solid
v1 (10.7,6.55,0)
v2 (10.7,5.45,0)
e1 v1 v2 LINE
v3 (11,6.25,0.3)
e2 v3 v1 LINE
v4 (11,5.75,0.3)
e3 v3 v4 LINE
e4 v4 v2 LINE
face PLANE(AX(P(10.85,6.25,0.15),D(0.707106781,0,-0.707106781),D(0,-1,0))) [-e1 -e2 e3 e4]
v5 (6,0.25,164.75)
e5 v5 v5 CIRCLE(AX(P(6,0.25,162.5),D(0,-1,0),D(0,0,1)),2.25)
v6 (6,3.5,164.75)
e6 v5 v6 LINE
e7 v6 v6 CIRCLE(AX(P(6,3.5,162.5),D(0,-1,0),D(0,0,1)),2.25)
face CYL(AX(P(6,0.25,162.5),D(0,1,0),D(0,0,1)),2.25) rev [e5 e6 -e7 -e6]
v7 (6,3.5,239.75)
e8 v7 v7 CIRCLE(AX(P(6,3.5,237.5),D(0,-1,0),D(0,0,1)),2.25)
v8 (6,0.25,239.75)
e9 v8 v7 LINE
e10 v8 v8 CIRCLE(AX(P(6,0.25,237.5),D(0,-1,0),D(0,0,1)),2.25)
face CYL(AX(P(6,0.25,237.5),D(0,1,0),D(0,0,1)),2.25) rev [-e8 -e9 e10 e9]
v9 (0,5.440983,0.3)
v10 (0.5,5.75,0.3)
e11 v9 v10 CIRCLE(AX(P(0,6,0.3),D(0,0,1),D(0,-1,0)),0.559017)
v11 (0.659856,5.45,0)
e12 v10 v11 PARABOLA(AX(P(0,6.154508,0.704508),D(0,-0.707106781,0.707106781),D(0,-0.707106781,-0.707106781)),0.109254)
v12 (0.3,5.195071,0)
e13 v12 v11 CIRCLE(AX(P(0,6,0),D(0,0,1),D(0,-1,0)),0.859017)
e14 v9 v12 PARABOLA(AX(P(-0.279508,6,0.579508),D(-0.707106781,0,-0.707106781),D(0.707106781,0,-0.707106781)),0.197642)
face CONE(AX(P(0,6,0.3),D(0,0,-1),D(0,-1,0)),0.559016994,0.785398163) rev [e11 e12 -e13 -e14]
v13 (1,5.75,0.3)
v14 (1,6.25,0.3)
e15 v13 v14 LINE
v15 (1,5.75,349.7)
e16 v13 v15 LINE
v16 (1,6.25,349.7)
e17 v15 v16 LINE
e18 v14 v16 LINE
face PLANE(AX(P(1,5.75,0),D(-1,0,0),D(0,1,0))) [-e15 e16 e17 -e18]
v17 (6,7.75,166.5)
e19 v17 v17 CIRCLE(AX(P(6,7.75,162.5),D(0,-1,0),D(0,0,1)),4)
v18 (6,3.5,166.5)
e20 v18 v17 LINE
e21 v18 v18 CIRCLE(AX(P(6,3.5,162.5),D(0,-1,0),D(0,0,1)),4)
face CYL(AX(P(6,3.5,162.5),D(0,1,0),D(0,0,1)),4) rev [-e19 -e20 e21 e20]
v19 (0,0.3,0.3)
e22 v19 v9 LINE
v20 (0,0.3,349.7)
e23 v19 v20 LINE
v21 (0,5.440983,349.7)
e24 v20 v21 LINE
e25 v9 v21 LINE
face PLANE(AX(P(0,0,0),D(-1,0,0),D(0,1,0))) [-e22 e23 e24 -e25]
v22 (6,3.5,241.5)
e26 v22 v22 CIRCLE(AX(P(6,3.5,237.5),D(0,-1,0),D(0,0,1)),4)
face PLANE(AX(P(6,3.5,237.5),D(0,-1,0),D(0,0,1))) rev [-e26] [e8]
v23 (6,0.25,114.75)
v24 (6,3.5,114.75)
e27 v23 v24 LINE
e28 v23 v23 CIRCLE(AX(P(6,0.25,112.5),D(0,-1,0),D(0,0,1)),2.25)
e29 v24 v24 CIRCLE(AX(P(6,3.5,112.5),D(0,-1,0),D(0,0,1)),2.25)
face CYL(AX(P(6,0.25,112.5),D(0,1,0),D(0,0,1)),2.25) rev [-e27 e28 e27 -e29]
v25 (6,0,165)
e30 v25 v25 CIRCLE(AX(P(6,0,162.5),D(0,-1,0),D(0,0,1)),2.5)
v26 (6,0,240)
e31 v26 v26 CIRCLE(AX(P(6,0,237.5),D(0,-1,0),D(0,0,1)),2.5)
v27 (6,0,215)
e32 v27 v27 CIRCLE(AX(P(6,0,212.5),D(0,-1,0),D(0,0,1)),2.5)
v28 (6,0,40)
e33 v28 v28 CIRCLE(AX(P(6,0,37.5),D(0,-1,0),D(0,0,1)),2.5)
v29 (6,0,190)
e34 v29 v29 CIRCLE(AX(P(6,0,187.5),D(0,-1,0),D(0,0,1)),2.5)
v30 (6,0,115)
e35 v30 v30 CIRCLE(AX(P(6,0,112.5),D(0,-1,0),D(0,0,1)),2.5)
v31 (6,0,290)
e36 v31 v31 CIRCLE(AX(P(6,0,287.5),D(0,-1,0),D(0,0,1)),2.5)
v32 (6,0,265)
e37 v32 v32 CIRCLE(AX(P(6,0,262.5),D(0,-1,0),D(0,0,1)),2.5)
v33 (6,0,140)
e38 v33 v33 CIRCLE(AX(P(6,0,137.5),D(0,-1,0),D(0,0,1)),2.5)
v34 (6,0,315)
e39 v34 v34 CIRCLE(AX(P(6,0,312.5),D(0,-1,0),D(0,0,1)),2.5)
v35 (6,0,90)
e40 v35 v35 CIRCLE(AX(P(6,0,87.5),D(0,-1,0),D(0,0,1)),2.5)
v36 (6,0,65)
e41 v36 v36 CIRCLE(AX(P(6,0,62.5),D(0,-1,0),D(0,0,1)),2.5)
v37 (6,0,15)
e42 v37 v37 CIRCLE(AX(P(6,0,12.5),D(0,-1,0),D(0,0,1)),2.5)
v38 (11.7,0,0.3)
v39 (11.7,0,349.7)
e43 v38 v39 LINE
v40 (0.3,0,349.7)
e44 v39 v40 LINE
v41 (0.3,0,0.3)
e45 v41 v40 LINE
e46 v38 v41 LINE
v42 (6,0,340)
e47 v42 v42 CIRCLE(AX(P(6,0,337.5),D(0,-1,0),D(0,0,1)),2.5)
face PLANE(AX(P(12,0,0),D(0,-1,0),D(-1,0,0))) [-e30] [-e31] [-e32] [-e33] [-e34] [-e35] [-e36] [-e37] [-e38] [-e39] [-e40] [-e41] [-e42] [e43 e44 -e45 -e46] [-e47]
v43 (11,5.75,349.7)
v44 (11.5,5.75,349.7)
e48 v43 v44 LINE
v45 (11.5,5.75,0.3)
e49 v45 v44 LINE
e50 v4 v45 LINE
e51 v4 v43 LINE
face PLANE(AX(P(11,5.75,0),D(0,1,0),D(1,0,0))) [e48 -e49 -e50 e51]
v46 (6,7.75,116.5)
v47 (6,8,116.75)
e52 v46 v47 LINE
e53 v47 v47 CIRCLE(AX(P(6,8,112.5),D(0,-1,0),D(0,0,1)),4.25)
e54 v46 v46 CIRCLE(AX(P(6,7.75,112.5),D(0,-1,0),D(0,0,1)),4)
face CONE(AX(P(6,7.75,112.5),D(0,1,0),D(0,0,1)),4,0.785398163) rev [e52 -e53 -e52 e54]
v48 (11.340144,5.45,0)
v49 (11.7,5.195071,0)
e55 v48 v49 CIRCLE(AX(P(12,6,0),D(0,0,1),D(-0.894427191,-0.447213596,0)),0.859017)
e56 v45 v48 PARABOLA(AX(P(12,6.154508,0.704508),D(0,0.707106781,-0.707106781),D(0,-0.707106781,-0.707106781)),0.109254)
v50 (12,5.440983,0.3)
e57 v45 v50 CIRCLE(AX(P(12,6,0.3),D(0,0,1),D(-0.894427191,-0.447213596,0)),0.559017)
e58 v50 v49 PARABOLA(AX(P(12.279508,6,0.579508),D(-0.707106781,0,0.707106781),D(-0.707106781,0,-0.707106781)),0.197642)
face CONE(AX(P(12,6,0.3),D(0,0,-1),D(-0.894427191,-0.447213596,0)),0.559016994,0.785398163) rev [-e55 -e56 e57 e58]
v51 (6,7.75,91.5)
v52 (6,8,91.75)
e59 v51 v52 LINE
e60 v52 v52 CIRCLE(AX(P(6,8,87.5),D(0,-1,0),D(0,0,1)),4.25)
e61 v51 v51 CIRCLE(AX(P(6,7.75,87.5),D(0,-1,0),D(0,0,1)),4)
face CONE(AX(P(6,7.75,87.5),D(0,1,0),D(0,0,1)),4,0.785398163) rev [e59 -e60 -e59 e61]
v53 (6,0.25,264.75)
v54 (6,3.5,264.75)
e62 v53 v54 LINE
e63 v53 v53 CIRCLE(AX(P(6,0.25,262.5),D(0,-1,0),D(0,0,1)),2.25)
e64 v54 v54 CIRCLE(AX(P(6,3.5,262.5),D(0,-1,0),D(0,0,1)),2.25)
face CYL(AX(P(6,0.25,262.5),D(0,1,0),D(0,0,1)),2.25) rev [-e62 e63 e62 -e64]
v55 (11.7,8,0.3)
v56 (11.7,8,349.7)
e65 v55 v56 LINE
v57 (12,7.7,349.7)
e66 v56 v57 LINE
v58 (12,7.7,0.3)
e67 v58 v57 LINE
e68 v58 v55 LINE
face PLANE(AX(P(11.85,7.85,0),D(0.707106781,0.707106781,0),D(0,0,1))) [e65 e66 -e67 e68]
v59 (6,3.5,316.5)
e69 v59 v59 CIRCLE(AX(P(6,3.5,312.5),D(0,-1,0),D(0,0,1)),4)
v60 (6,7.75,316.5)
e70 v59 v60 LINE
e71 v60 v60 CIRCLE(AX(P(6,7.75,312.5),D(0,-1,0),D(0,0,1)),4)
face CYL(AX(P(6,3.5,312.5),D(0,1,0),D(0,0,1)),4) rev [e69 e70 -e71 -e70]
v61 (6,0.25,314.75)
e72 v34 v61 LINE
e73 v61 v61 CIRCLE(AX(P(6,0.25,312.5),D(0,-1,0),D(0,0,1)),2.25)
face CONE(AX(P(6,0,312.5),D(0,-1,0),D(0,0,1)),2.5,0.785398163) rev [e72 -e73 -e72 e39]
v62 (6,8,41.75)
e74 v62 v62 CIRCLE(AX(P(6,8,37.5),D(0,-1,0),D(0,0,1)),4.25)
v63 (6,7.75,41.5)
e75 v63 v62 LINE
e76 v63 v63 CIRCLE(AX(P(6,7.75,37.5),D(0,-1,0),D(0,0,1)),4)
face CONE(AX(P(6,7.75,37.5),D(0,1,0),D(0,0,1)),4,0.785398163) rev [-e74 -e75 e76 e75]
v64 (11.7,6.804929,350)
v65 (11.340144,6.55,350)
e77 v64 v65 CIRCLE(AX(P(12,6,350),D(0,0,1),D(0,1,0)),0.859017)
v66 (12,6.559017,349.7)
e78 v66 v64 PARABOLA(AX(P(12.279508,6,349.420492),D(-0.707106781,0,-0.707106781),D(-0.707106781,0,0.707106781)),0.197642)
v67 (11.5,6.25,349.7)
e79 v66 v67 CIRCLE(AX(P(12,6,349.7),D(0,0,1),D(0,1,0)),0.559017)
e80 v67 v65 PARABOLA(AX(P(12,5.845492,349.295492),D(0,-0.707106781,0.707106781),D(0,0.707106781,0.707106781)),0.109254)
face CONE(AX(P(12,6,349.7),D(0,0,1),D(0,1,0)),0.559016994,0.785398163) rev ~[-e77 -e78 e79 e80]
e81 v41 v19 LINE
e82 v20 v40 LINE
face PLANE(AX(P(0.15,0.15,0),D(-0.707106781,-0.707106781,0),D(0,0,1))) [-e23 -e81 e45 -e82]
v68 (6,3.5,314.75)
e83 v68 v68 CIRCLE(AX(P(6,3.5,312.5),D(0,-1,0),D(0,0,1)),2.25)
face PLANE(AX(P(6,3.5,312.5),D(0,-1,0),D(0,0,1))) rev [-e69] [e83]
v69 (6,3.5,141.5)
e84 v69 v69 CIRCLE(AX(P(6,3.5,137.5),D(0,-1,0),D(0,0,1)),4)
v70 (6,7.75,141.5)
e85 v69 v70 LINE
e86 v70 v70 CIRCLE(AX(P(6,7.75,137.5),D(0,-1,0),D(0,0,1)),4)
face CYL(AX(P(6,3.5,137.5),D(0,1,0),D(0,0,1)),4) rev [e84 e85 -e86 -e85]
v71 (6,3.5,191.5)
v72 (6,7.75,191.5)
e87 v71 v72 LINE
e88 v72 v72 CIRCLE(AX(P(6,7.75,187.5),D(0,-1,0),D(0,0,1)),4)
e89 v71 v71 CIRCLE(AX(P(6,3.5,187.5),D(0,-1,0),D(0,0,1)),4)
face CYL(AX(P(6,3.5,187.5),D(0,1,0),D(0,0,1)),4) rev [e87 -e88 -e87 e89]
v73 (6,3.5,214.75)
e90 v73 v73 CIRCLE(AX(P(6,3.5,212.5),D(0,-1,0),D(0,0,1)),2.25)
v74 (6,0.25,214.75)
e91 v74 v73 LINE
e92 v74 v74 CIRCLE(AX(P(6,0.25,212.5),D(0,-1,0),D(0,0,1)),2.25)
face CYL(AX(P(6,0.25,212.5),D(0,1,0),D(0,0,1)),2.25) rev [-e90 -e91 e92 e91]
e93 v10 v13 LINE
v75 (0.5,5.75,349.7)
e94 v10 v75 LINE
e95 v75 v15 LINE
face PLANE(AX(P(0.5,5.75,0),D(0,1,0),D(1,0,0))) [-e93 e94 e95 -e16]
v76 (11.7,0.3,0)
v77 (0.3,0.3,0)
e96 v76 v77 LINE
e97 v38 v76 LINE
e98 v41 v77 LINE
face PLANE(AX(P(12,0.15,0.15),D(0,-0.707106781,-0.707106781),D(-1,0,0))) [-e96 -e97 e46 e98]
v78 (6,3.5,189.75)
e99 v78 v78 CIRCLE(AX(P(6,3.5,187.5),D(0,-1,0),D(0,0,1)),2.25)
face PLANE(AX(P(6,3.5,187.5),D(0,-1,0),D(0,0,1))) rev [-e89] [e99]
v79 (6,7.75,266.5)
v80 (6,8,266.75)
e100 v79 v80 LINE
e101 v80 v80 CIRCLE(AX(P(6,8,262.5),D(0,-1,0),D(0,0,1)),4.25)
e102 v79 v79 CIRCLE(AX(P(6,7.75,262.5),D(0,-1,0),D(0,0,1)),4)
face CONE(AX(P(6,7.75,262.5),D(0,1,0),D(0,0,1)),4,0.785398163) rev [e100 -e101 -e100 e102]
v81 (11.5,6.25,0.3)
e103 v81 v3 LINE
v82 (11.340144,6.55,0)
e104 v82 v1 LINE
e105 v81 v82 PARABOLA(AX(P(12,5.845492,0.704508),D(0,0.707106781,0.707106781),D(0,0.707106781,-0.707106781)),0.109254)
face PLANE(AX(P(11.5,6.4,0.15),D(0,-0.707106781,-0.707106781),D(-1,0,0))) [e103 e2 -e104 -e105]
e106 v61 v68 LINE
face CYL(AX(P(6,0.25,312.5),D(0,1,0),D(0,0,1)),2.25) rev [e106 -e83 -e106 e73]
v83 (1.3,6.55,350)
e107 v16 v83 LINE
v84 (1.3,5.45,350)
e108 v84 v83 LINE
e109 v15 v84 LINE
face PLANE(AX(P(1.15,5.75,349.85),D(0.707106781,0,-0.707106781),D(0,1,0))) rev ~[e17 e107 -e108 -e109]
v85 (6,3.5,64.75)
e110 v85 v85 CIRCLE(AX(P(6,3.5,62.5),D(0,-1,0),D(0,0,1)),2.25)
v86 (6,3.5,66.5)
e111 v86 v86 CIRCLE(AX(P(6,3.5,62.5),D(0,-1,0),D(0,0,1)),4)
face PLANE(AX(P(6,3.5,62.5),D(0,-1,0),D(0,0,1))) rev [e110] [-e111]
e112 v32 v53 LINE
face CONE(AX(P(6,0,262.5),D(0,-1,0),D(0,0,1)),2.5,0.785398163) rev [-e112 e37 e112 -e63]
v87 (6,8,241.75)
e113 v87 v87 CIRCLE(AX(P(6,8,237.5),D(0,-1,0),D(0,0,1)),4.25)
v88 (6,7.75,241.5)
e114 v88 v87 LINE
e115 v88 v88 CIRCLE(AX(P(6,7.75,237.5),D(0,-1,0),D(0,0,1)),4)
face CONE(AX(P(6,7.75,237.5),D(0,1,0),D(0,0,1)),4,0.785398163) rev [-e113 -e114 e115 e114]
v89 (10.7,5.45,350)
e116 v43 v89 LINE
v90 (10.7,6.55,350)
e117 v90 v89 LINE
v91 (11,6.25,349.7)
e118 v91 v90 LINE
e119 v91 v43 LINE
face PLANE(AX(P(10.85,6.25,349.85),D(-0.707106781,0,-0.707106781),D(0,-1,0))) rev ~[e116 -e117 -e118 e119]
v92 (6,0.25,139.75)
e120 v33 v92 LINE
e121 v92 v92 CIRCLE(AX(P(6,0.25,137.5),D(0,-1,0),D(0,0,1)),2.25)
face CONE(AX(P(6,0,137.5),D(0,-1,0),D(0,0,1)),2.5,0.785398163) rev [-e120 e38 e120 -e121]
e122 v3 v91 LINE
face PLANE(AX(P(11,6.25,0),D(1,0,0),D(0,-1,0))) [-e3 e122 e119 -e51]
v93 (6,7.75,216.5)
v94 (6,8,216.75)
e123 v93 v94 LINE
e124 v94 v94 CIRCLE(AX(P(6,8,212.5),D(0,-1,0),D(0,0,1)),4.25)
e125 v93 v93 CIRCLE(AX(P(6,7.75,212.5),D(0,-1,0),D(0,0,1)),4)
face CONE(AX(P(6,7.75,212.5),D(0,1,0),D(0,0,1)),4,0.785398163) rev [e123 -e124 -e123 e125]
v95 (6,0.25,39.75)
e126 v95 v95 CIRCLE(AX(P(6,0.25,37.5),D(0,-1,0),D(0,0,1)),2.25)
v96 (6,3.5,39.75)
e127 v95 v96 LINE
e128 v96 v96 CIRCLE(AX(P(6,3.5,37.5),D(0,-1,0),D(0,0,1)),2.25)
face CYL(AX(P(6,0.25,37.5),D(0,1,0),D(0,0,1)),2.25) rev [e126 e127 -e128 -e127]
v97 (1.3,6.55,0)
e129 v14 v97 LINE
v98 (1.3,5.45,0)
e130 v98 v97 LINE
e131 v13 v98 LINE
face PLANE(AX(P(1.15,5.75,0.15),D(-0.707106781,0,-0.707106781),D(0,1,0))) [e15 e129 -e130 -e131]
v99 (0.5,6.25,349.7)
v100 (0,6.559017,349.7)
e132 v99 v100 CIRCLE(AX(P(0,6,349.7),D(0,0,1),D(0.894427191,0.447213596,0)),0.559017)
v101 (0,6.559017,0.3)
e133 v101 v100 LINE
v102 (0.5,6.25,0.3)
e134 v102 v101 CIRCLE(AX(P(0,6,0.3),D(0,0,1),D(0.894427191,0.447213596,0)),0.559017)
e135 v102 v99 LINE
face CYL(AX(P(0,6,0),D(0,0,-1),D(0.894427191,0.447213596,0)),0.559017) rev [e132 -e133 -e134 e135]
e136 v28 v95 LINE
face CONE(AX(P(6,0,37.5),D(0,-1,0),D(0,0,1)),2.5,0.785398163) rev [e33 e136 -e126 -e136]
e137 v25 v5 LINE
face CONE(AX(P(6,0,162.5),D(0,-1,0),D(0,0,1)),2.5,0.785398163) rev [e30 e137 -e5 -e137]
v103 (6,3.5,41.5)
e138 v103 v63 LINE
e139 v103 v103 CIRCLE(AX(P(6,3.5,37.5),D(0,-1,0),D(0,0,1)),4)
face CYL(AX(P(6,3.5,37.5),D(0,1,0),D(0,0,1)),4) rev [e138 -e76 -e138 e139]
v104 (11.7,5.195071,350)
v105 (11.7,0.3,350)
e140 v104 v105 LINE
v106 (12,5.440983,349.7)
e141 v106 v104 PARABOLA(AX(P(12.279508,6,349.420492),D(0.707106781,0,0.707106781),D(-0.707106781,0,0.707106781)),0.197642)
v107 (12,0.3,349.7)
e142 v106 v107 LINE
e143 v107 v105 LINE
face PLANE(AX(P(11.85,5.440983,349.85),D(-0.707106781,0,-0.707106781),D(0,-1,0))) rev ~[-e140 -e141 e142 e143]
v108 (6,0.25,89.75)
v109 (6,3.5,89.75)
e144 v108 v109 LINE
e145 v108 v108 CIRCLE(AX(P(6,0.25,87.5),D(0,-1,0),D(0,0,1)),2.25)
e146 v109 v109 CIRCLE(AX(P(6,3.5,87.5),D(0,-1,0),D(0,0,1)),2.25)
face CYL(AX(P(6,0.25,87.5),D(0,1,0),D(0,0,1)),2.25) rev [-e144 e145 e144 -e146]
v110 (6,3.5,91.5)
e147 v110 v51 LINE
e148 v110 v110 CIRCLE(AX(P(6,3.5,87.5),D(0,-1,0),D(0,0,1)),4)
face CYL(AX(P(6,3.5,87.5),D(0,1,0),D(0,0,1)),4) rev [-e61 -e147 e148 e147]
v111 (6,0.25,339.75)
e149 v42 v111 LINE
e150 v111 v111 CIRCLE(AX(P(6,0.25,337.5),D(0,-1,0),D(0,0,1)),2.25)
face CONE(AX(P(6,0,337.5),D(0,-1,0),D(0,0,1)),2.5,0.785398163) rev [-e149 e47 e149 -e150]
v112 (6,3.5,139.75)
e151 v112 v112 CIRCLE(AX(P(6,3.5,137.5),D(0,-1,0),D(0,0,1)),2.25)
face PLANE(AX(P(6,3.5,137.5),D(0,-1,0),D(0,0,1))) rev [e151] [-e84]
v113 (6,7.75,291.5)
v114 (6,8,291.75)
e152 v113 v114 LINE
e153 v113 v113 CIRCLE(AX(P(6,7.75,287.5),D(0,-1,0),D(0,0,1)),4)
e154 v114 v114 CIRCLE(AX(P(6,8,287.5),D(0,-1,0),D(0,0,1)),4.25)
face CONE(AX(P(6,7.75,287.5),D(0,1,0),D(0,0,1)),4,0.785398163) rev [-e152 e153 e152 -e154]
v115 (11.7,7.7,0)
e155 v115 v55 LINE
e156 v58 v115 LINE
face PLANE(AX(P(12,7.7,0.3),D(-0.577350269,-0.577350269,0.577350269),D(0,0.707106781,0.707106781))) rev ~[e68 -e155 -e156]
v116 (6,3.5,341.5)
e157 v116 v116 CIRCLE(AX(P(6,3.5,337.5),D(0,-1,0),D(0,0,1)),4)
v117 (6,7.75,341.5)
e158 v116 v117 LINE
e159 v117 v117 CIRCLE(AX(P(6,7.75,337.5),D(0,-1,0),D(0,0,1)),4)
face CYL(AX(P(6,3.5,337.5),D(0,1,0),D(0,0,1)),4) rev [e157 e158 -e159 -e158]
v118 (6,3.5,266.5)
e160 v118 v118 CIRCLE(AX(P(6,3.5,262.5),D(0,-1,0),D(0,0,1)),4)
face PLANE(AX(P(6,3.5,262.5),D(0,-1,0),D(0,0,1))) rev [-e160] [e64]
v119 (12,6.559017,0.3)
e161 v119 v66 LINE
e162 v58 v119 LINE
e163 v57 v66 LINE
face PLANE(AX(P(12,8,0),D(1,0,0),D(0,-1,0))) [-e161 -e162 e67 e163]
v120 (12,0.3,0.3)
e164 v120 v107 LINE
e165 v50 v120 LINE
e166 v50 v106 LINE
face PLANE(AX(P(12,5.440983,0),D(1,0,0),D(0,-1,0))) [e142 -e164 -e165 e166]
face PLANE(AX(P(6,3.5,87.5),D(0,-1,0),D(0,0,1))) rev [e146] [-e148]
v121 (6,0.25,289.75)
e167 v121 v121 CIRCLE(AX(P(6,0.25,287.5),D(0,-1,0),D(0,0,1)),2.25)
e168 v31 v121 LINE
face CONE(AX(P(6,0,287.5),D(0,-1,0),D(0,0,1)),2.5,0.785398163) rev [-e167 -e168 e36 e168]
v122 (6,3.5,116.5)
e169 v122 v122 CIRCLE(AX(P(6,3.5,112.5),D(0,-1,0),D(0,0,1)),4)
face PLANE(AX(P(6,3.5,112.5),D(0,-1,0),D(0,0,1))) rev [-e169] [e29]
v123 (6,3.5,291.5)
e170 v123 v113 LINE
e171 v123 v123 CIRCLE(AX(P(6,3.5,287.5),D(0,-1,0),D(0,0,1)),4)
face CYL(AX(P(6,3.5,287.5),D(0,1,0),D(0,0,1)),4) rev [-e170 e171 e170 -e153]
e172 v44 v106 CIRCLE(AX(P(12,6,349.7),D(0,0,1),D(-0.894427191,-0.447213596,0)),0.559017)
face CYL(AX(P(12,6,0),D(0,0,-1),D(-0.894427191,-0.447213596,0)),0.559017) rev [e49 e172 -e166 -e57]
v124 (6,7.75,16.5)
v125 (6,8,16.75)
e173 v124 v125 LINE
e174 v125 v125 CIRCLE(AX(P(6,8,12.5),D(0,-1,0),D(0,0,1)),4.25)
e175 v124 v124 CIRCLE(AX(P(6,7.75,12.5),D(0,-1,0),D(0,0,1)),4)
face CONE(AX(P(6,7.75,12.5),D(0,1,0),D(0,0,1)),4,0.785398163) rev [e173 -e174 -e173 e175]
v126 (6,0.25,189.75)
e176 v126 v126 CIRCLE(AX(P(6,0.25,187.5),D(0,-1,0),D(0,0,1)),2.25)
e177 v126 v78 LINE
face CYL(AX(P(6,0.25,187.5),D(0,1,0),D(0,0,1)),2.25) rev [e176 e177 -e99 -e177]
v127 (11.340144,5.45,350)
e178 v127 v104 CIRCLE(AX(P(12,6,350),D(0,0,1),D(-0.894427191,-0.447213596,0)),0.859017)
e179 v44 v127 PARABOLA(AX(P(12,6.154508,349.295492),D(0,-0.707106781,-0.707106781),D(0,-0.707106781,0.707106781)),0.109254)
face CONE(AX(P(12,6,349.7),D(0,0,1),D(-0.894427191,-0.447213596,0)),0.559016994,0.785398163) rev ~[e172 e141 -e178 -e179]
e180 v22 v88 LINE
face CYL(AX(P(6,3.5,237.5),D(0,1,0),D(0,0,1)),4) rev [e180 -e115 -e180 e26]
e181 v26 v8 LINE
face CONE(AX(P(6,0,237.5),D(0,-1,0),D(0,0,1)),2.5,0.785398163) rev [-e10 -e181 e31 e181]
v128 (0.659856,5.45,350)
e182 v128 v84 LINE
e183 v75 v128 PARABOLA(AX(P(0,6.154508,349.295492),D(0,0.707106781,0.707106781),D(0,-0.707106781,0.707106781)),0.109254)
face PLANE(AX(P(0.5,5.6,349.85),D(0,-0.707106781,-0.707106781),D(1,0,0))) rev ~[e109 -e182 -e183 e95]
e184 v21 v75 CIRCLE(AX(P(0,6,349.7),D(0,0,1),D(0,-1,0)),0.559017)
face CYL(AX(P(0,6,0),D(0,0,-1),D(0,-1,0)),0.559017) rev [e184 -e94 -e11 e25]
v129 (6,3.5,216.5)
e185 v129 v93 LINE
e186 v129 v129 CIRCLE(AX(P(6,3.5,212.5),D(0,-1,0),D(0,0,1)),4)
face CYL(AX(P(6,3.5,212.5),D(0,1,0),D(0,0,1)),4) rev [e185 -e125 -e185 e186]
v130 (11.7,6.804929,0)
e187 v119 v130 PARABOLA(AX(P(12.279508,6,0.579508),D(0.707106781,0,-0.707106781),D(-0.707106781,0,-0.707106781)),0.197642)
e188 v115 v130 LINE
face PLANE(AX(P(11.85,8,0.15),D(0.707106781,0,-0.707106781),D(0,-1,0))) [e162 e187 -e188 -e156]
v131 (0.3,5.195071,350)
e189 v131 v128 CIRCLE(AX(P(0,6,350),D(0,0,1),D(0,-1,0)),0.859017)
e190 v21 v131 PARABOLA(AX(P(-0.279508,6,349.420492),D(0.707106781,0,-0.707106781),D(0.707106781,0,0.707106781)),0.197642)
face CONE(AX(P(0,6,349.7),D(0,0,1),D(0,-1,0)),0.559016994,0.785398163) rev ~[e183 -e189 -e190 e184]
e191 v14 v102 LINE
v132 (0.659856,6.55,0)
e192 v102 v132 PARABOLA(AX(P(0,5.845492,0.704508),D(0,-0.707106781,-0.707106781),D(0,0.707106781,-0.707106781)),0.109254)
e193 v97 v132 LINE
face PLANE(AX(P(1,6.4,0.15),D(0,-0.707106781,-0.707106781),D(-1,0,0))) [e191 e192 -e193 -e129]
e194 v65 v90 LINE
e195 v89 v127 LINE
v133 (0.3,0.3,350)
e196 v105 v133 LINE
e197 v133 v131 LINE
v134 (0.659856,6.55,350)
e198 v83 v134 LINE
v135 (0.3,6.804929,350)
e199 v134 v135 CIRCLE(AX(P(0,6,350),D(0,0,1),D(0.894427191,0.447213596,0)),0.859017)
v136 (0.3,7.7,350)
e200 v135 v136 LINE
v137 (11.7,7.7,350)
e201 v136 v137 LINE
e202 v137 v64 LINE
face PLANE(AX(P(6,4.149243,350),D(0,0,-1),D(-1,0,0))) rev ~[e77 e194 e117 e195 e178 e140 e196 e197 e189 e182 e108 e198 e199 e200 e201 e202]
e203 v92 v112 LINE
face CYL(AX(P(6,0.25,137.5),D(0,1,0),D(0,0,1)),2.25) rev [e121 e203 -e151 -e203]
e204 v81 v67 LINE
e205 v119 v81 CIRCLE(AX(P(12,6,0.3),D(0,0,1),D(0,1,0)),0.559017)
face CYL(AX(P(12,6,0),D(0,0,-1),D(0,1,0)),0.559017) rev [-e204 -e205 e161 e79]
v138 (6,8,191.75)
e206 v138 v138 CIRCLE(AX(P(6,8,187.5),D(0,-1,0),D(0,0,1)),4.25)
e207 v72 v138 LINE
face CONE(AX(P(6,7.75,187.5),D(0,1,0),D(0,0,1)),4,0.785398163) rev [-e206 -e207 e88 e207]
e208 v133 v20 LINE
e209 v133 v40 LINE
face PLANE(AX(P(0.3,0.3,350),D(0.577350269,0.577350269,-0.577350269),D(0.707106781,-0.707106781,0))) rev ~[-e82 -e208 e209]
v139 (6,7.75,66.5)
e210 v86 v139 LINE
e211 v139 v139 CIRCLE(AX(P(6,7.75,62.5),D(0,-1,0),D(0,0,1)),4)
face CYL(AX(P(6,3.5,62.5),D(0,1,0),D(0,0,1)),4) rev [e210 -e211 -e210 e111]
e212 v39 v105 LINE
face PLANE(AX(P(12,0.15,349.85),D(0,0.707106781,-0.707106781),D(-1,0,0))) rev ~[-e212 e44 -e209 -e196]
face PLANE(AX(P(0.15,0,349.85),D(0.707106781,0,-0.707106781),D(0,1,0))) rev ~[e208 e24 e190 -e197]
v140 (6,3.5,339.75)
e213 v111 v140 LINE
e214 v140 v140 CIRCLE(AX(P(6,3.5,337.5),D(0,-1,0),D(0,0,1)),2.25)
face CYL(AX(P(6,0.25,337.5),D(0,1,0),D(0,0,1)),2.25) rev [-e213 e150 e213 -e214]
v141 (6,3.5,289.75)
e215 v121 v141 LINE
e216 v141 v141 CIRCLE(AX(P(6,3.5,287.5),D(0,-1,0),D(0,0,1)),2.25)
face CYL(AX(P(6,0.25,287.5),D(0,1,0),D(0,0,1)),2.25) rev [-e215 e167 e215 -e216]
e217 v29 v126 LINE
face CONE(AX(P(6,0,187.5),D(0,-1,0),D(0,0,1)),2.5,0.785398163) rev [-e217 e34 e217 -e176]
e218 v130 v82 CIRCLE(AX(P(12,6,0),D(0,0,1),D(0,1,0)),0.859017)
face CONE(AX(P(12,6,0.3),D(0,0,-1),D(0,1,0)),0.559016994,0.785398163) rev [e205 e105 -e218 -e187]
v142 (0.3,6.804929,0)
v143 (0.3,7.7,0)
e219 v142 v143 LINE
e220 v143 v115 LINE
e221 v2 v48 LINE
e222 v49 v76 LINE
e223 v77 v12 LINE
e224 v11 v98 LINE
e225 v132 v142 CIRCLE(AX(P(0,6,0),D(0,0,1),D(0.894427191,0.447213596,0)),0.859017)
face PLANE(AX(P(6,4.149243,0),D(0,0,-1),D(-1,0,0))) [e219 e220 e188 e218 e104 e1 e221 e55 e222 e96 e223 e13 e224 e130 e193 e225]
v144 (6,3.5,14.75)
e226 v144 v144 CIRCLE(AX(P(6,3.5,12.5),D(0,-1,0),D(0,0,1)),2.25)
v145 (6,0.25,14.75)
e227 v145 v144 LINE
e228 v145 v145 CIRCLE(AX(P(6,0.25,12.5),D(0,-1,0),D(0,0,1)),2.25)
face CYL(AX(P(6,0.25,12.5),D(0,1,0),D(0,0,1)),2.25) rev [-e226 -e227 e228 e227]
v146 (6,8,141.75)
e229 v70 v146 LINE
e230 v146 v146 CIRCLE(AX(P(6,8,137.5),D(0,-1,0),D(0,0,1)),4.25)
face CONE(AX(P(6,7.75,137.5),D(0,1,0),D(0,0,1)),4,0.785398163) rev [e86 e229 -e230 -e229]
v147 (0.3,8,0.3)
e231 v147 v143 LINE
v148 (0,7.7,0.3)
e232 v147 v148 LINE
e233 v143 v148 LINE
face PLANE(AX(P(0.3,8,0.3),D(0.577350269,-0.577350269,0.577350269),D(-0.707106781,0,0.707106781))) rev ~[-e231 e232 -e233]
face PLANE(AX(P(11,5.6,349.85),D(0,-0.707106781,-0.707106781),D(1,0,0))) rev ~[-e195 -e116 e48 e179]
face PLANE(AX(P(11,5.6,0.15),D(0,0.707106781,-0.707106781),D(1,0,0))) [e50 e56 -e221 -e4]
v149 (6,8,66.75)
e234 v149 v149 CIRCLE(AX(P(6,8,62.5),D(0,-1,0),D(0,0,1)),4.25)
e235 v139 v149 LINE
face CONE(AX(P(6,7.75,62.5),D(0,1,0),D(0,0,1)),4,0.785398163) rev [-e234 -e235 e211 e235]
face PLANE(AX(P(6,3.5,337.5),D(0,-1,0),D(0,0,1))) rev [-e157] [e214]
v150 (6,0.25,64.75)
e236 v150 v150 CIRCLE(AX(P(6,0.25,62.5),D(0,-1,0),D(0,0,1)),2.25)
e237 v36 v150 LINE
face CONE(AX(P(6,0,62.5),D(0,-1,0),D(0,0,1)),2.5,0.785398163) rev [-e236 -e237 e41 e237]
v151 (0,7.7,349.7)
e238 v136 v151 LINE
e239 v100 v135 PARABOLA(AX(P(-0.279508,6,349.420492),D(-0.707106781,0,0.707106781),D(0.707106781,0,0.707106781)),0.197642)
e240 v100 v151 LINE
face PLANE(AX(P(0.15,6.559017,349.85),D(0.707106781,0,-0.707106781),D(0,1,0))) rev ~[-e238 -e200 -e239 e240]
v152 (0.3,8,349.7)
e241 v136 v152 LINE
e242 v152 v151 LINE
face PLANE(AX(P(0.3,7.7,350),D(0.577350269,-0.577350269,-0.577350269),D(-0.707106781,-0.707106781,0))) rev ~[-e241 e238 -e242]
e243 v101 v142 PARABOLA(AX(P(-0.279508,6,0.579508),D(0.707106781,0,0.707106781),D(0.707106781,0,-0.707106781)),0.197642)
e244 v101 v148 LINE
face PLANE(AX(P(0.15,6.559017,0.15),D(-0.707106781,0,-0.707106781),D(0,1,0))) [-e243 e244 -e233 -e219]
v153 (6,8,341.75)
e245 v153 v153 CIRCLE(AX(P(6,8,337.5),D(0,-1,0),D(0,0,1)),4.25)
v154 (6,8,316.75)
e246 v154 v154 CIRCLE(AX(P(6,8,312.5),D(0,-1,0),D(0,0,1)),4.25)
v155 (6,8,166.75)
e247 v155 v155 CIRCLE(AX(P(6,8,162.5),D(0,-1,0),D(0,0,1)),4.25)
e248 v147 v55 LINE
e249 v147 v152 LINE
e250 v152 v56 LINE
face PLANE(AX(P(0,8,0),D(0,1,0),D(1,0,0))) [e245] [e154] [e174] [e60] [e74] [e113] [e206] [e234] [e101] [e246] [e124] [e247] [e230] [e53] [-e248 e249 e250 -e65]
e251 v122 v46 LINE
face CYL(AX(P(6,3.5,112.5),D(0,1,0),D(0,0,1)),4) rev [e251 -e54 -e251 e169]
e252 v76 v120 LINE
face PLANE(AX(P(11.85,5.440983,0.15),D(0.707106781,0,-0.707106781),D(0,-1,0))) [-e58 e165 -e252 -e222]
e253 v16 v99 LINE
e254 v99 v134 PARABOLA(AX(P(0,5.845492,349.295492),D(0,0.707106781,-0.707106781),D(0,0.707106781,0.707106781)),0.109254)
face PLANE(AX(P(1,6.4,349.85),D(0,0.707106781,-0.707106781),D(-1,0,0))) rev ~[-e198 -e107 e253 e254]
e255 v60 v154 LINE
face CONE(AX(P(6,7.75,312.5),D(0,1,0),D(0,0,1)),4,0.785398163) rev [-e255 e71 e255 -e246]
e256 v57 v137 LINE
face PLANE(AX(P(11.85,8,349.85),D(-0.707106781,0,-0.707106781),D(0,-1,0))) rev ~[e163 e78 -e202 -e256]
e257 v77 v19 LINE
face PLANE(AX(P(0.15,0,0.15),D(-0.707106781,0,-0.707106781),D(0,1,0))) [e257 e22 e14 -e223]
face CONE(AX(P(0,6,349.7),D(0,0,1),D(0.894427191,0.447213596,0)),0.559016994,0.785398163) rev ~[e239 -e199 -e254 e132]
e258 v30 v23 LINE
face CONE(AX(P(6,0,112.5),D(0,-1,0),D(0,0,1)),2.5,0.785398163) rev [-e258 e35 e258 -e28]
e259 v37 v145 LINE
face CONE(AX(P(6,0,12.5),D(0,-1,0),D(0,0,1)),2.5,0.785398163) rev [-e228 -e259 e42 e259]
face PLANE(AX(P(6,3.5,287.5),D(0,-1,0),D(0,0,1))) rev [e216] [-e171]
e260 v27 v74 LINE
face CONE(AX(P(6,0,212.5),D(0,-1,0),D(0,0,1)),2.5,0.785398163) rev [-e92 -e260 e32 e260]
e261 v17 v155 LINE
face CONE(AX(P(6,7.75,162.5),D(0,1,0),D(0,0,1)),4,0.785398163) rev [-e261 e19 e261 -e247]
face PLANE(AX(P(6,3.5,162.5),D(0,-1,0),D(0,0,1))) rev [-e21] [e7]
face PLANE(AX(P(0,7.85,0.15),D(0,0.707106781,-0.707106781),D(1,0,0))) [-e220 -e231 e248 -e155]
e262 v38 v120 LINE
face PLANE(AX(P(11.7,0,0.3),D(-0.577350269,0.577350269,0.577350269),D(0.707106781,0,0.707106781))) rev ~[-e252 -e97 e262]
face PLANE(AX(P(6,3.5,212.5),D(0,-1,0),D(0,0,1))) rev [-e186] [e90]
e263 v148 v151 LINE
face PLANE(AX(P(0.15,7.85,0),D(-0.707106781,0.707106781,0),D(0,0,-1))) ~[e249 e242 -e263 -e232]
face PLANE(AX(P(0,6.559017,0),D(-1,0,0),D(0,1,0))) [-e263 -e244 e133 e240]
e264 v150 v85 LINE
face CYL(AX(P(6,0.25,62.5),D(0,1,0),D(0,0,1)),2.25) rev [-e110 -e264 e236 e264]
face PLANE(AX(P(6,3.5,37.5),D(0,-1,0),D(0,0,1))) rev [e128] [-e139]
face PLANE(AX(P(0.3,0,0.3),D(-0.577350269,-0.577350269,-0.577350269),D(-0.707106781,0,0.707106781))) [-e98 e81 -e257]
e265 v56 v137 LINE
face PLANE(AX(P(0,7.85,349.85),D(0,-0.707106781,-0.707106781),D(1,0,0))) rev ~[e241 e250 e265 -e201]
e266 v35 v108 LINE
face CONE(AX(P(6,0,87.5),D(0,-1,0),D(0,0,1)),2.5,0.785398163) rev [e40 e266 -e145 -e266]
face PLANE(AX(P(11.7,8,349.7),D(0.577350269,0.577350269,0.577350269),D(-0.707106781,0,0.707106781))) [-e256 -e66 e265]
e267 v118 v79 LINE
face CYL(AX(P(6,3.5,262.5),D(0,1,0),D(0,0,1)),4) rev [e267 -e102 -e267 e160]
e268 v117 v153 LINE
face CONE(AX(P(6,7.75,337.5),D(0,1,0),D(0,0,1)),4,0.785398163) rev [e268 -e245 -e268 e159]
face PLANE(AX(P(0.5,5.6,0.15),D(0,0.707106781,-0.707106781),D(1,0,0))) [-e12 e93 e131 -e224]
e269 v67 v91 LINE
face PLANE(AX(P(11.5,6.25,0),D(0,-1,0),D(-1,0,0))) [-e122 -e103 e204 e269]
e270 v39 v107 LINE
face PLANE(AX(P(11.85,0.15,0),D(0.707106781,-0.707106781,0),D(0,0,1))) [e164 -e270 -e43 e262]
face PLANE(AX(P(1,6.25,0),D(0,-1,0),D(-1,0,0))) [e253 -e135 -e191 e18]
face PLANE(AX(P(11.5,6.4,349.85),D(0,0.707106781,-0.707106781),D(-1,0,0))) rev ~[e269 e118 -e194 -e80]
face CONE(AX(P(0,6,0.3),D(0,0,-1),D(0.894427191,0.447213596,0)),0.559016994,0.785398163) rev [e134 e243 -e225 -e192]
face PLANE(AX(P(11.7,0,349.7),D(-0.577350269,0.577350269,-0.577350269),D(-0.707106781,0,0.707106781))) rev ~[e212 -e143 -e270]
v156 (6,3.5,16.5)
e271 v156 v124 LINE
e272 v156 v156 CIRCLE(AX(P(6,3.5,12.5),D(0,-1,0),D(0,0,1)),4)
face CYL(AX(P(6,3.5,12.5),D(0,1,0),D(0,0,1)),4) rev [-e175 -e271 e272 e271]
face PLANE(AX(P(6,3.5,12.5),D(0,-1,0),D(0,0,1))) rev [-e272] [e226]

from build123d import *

# Parameters (mm, degrees)
BOSS_EXTRUDE1_DEPTH = 350
CHAMFER1_SIZE       = 0.3
LPATTERN1_COUNT     = 14
LPATTERN1_PITCH     = 25


with BuildPart() as part:
    # Sketch1 → Boss-Extrude1 (new body)
    with BuildSketch(Plane.XY):
        with BuildLine():
            Line((0, 8), (12, 8))
            Line((12, 8), (12, 6.75))
            Line((12, 6.75), (12, 6.559016994))
            ThreePointArc((12, 6.559016994), (11.706107374, 6.475528258), (11.5, 6.25))
            Line((11.5, 6.25), (11, 6.25))
            Line((11, 6.25), (11, 5.75))
            Line((11, 5.75), (11.5, 5.75))
            ThreePointArc((11.5, 5.75), (11.706107374, 5.524471742), (12, 5.440983006))
            Line((12, 5.440983006), (12, 5.25))
            Line((12, 5.25), (12, 0))
            Line((12, 0), (0, 0))
            Line((0, 0), (0, 5.25))
            Line((0, 5.25), (0, 5.440983006))
            ThreePointArc((0, 5.440983006), (0.293892626, 5.524471742), (0.5, 5.75))
            Line((0.5, 5.75), (1, 5.75))
            Line((1, 5.75), (1, 6.25))
            Line((1, 6.25), (0.5, 6.25))
            ThreePointArc((0.5, 6.25), (0.293892626, 6.475528258), (0, 6.559016994))
            Line((0, 6.559016994), (0, 6.75))
            Line((0, 6.75), (0, 8))
        make_face()
    extrude(amount=BOSS_EXTRUDE1_DEPTH)

    # Chamfer1
    chamfer1_edges = [part.edges().sort_by_distance(p)[0] for p in [
        (12, 2.720491503, 350),
        (11.706107374, 5.524471742, 350),
        (0, 2.720491503, 0),
        (0.293892626, 5.524471742, 0),
        (0.75, 5.75, 0),
        (1, 6, 0),
        (0.75, 6.25, 0),
        (11.25, 5.75, 350),
        (0.293892626, 6.475528258, 0),
        (0, 7.279508497, 0),
        (6, 8, 0),
        (12, 7.279508497, 0),
        (11.706107374, 6.475528258, 0),
        (11, 6, 350),
        (11.25, 6.25, 0),
        (11, 6, 0),
        (11.25, 5.75, 0),
        (11.706107374, 5.524471742, 0),
        (12, 2.720491503, 0),
        (6, 0, 0),
        (11.25, 6.25, 350),
        (11.706107374, 6.475528258, 350),
        (12, 7.279508497, 350),
        (0, 8, 175),
        (12, 8, 175),
        (12, 0, 175),
        (0, 0, 175),
        (6, 8, 350),
        (0, 2.720491503, 350),
        (0, 7.279508497, 350),
        (0.293892626, 6.475528258, 350),
        (0.75, 6.25, 350),
        (1, 6, 350),
        (0.75, 5.75, 350),
        (0.293892626, 5.524471742, 350),
        (6, 0, 350),
    ]]
    chamfer(chamfer1_edges, length=CHAMFER1_SIZE)

    # Sketch3 → CBORE for M5 Hex Head Bolt1 (revolve, cut)
    with BuildSketch(Plane(origin=(6, 8, 12.5), x_dir=(0, 0, 1), z_dir=(1, 0, 0))):
        Polygon((0, 0), (0, 8), (2.5, 8), (2.25, 7.75), (2.25, 4.5), (4, 4.5), (4, 0.25), (4.25, 0), align=None)
    cbore_for_m5_hex_head_bolt1 = revolve(axis=Axis((6, 14.35, 12.5), (0, -1, 0)), mode=Mode.SUBTRACT)

    # LPattern1: CBORE for M5 Hex Head Bolt1 ×14
    with Locations(*[(0, 0, i * LPATTERN1_PITCH) for i in range(1, LPATTERN1_COUNT)]):
        add(cbore_for_m5_hex_head_bolt1, mode=Mode.SUBTRACT)


solid = part.part
